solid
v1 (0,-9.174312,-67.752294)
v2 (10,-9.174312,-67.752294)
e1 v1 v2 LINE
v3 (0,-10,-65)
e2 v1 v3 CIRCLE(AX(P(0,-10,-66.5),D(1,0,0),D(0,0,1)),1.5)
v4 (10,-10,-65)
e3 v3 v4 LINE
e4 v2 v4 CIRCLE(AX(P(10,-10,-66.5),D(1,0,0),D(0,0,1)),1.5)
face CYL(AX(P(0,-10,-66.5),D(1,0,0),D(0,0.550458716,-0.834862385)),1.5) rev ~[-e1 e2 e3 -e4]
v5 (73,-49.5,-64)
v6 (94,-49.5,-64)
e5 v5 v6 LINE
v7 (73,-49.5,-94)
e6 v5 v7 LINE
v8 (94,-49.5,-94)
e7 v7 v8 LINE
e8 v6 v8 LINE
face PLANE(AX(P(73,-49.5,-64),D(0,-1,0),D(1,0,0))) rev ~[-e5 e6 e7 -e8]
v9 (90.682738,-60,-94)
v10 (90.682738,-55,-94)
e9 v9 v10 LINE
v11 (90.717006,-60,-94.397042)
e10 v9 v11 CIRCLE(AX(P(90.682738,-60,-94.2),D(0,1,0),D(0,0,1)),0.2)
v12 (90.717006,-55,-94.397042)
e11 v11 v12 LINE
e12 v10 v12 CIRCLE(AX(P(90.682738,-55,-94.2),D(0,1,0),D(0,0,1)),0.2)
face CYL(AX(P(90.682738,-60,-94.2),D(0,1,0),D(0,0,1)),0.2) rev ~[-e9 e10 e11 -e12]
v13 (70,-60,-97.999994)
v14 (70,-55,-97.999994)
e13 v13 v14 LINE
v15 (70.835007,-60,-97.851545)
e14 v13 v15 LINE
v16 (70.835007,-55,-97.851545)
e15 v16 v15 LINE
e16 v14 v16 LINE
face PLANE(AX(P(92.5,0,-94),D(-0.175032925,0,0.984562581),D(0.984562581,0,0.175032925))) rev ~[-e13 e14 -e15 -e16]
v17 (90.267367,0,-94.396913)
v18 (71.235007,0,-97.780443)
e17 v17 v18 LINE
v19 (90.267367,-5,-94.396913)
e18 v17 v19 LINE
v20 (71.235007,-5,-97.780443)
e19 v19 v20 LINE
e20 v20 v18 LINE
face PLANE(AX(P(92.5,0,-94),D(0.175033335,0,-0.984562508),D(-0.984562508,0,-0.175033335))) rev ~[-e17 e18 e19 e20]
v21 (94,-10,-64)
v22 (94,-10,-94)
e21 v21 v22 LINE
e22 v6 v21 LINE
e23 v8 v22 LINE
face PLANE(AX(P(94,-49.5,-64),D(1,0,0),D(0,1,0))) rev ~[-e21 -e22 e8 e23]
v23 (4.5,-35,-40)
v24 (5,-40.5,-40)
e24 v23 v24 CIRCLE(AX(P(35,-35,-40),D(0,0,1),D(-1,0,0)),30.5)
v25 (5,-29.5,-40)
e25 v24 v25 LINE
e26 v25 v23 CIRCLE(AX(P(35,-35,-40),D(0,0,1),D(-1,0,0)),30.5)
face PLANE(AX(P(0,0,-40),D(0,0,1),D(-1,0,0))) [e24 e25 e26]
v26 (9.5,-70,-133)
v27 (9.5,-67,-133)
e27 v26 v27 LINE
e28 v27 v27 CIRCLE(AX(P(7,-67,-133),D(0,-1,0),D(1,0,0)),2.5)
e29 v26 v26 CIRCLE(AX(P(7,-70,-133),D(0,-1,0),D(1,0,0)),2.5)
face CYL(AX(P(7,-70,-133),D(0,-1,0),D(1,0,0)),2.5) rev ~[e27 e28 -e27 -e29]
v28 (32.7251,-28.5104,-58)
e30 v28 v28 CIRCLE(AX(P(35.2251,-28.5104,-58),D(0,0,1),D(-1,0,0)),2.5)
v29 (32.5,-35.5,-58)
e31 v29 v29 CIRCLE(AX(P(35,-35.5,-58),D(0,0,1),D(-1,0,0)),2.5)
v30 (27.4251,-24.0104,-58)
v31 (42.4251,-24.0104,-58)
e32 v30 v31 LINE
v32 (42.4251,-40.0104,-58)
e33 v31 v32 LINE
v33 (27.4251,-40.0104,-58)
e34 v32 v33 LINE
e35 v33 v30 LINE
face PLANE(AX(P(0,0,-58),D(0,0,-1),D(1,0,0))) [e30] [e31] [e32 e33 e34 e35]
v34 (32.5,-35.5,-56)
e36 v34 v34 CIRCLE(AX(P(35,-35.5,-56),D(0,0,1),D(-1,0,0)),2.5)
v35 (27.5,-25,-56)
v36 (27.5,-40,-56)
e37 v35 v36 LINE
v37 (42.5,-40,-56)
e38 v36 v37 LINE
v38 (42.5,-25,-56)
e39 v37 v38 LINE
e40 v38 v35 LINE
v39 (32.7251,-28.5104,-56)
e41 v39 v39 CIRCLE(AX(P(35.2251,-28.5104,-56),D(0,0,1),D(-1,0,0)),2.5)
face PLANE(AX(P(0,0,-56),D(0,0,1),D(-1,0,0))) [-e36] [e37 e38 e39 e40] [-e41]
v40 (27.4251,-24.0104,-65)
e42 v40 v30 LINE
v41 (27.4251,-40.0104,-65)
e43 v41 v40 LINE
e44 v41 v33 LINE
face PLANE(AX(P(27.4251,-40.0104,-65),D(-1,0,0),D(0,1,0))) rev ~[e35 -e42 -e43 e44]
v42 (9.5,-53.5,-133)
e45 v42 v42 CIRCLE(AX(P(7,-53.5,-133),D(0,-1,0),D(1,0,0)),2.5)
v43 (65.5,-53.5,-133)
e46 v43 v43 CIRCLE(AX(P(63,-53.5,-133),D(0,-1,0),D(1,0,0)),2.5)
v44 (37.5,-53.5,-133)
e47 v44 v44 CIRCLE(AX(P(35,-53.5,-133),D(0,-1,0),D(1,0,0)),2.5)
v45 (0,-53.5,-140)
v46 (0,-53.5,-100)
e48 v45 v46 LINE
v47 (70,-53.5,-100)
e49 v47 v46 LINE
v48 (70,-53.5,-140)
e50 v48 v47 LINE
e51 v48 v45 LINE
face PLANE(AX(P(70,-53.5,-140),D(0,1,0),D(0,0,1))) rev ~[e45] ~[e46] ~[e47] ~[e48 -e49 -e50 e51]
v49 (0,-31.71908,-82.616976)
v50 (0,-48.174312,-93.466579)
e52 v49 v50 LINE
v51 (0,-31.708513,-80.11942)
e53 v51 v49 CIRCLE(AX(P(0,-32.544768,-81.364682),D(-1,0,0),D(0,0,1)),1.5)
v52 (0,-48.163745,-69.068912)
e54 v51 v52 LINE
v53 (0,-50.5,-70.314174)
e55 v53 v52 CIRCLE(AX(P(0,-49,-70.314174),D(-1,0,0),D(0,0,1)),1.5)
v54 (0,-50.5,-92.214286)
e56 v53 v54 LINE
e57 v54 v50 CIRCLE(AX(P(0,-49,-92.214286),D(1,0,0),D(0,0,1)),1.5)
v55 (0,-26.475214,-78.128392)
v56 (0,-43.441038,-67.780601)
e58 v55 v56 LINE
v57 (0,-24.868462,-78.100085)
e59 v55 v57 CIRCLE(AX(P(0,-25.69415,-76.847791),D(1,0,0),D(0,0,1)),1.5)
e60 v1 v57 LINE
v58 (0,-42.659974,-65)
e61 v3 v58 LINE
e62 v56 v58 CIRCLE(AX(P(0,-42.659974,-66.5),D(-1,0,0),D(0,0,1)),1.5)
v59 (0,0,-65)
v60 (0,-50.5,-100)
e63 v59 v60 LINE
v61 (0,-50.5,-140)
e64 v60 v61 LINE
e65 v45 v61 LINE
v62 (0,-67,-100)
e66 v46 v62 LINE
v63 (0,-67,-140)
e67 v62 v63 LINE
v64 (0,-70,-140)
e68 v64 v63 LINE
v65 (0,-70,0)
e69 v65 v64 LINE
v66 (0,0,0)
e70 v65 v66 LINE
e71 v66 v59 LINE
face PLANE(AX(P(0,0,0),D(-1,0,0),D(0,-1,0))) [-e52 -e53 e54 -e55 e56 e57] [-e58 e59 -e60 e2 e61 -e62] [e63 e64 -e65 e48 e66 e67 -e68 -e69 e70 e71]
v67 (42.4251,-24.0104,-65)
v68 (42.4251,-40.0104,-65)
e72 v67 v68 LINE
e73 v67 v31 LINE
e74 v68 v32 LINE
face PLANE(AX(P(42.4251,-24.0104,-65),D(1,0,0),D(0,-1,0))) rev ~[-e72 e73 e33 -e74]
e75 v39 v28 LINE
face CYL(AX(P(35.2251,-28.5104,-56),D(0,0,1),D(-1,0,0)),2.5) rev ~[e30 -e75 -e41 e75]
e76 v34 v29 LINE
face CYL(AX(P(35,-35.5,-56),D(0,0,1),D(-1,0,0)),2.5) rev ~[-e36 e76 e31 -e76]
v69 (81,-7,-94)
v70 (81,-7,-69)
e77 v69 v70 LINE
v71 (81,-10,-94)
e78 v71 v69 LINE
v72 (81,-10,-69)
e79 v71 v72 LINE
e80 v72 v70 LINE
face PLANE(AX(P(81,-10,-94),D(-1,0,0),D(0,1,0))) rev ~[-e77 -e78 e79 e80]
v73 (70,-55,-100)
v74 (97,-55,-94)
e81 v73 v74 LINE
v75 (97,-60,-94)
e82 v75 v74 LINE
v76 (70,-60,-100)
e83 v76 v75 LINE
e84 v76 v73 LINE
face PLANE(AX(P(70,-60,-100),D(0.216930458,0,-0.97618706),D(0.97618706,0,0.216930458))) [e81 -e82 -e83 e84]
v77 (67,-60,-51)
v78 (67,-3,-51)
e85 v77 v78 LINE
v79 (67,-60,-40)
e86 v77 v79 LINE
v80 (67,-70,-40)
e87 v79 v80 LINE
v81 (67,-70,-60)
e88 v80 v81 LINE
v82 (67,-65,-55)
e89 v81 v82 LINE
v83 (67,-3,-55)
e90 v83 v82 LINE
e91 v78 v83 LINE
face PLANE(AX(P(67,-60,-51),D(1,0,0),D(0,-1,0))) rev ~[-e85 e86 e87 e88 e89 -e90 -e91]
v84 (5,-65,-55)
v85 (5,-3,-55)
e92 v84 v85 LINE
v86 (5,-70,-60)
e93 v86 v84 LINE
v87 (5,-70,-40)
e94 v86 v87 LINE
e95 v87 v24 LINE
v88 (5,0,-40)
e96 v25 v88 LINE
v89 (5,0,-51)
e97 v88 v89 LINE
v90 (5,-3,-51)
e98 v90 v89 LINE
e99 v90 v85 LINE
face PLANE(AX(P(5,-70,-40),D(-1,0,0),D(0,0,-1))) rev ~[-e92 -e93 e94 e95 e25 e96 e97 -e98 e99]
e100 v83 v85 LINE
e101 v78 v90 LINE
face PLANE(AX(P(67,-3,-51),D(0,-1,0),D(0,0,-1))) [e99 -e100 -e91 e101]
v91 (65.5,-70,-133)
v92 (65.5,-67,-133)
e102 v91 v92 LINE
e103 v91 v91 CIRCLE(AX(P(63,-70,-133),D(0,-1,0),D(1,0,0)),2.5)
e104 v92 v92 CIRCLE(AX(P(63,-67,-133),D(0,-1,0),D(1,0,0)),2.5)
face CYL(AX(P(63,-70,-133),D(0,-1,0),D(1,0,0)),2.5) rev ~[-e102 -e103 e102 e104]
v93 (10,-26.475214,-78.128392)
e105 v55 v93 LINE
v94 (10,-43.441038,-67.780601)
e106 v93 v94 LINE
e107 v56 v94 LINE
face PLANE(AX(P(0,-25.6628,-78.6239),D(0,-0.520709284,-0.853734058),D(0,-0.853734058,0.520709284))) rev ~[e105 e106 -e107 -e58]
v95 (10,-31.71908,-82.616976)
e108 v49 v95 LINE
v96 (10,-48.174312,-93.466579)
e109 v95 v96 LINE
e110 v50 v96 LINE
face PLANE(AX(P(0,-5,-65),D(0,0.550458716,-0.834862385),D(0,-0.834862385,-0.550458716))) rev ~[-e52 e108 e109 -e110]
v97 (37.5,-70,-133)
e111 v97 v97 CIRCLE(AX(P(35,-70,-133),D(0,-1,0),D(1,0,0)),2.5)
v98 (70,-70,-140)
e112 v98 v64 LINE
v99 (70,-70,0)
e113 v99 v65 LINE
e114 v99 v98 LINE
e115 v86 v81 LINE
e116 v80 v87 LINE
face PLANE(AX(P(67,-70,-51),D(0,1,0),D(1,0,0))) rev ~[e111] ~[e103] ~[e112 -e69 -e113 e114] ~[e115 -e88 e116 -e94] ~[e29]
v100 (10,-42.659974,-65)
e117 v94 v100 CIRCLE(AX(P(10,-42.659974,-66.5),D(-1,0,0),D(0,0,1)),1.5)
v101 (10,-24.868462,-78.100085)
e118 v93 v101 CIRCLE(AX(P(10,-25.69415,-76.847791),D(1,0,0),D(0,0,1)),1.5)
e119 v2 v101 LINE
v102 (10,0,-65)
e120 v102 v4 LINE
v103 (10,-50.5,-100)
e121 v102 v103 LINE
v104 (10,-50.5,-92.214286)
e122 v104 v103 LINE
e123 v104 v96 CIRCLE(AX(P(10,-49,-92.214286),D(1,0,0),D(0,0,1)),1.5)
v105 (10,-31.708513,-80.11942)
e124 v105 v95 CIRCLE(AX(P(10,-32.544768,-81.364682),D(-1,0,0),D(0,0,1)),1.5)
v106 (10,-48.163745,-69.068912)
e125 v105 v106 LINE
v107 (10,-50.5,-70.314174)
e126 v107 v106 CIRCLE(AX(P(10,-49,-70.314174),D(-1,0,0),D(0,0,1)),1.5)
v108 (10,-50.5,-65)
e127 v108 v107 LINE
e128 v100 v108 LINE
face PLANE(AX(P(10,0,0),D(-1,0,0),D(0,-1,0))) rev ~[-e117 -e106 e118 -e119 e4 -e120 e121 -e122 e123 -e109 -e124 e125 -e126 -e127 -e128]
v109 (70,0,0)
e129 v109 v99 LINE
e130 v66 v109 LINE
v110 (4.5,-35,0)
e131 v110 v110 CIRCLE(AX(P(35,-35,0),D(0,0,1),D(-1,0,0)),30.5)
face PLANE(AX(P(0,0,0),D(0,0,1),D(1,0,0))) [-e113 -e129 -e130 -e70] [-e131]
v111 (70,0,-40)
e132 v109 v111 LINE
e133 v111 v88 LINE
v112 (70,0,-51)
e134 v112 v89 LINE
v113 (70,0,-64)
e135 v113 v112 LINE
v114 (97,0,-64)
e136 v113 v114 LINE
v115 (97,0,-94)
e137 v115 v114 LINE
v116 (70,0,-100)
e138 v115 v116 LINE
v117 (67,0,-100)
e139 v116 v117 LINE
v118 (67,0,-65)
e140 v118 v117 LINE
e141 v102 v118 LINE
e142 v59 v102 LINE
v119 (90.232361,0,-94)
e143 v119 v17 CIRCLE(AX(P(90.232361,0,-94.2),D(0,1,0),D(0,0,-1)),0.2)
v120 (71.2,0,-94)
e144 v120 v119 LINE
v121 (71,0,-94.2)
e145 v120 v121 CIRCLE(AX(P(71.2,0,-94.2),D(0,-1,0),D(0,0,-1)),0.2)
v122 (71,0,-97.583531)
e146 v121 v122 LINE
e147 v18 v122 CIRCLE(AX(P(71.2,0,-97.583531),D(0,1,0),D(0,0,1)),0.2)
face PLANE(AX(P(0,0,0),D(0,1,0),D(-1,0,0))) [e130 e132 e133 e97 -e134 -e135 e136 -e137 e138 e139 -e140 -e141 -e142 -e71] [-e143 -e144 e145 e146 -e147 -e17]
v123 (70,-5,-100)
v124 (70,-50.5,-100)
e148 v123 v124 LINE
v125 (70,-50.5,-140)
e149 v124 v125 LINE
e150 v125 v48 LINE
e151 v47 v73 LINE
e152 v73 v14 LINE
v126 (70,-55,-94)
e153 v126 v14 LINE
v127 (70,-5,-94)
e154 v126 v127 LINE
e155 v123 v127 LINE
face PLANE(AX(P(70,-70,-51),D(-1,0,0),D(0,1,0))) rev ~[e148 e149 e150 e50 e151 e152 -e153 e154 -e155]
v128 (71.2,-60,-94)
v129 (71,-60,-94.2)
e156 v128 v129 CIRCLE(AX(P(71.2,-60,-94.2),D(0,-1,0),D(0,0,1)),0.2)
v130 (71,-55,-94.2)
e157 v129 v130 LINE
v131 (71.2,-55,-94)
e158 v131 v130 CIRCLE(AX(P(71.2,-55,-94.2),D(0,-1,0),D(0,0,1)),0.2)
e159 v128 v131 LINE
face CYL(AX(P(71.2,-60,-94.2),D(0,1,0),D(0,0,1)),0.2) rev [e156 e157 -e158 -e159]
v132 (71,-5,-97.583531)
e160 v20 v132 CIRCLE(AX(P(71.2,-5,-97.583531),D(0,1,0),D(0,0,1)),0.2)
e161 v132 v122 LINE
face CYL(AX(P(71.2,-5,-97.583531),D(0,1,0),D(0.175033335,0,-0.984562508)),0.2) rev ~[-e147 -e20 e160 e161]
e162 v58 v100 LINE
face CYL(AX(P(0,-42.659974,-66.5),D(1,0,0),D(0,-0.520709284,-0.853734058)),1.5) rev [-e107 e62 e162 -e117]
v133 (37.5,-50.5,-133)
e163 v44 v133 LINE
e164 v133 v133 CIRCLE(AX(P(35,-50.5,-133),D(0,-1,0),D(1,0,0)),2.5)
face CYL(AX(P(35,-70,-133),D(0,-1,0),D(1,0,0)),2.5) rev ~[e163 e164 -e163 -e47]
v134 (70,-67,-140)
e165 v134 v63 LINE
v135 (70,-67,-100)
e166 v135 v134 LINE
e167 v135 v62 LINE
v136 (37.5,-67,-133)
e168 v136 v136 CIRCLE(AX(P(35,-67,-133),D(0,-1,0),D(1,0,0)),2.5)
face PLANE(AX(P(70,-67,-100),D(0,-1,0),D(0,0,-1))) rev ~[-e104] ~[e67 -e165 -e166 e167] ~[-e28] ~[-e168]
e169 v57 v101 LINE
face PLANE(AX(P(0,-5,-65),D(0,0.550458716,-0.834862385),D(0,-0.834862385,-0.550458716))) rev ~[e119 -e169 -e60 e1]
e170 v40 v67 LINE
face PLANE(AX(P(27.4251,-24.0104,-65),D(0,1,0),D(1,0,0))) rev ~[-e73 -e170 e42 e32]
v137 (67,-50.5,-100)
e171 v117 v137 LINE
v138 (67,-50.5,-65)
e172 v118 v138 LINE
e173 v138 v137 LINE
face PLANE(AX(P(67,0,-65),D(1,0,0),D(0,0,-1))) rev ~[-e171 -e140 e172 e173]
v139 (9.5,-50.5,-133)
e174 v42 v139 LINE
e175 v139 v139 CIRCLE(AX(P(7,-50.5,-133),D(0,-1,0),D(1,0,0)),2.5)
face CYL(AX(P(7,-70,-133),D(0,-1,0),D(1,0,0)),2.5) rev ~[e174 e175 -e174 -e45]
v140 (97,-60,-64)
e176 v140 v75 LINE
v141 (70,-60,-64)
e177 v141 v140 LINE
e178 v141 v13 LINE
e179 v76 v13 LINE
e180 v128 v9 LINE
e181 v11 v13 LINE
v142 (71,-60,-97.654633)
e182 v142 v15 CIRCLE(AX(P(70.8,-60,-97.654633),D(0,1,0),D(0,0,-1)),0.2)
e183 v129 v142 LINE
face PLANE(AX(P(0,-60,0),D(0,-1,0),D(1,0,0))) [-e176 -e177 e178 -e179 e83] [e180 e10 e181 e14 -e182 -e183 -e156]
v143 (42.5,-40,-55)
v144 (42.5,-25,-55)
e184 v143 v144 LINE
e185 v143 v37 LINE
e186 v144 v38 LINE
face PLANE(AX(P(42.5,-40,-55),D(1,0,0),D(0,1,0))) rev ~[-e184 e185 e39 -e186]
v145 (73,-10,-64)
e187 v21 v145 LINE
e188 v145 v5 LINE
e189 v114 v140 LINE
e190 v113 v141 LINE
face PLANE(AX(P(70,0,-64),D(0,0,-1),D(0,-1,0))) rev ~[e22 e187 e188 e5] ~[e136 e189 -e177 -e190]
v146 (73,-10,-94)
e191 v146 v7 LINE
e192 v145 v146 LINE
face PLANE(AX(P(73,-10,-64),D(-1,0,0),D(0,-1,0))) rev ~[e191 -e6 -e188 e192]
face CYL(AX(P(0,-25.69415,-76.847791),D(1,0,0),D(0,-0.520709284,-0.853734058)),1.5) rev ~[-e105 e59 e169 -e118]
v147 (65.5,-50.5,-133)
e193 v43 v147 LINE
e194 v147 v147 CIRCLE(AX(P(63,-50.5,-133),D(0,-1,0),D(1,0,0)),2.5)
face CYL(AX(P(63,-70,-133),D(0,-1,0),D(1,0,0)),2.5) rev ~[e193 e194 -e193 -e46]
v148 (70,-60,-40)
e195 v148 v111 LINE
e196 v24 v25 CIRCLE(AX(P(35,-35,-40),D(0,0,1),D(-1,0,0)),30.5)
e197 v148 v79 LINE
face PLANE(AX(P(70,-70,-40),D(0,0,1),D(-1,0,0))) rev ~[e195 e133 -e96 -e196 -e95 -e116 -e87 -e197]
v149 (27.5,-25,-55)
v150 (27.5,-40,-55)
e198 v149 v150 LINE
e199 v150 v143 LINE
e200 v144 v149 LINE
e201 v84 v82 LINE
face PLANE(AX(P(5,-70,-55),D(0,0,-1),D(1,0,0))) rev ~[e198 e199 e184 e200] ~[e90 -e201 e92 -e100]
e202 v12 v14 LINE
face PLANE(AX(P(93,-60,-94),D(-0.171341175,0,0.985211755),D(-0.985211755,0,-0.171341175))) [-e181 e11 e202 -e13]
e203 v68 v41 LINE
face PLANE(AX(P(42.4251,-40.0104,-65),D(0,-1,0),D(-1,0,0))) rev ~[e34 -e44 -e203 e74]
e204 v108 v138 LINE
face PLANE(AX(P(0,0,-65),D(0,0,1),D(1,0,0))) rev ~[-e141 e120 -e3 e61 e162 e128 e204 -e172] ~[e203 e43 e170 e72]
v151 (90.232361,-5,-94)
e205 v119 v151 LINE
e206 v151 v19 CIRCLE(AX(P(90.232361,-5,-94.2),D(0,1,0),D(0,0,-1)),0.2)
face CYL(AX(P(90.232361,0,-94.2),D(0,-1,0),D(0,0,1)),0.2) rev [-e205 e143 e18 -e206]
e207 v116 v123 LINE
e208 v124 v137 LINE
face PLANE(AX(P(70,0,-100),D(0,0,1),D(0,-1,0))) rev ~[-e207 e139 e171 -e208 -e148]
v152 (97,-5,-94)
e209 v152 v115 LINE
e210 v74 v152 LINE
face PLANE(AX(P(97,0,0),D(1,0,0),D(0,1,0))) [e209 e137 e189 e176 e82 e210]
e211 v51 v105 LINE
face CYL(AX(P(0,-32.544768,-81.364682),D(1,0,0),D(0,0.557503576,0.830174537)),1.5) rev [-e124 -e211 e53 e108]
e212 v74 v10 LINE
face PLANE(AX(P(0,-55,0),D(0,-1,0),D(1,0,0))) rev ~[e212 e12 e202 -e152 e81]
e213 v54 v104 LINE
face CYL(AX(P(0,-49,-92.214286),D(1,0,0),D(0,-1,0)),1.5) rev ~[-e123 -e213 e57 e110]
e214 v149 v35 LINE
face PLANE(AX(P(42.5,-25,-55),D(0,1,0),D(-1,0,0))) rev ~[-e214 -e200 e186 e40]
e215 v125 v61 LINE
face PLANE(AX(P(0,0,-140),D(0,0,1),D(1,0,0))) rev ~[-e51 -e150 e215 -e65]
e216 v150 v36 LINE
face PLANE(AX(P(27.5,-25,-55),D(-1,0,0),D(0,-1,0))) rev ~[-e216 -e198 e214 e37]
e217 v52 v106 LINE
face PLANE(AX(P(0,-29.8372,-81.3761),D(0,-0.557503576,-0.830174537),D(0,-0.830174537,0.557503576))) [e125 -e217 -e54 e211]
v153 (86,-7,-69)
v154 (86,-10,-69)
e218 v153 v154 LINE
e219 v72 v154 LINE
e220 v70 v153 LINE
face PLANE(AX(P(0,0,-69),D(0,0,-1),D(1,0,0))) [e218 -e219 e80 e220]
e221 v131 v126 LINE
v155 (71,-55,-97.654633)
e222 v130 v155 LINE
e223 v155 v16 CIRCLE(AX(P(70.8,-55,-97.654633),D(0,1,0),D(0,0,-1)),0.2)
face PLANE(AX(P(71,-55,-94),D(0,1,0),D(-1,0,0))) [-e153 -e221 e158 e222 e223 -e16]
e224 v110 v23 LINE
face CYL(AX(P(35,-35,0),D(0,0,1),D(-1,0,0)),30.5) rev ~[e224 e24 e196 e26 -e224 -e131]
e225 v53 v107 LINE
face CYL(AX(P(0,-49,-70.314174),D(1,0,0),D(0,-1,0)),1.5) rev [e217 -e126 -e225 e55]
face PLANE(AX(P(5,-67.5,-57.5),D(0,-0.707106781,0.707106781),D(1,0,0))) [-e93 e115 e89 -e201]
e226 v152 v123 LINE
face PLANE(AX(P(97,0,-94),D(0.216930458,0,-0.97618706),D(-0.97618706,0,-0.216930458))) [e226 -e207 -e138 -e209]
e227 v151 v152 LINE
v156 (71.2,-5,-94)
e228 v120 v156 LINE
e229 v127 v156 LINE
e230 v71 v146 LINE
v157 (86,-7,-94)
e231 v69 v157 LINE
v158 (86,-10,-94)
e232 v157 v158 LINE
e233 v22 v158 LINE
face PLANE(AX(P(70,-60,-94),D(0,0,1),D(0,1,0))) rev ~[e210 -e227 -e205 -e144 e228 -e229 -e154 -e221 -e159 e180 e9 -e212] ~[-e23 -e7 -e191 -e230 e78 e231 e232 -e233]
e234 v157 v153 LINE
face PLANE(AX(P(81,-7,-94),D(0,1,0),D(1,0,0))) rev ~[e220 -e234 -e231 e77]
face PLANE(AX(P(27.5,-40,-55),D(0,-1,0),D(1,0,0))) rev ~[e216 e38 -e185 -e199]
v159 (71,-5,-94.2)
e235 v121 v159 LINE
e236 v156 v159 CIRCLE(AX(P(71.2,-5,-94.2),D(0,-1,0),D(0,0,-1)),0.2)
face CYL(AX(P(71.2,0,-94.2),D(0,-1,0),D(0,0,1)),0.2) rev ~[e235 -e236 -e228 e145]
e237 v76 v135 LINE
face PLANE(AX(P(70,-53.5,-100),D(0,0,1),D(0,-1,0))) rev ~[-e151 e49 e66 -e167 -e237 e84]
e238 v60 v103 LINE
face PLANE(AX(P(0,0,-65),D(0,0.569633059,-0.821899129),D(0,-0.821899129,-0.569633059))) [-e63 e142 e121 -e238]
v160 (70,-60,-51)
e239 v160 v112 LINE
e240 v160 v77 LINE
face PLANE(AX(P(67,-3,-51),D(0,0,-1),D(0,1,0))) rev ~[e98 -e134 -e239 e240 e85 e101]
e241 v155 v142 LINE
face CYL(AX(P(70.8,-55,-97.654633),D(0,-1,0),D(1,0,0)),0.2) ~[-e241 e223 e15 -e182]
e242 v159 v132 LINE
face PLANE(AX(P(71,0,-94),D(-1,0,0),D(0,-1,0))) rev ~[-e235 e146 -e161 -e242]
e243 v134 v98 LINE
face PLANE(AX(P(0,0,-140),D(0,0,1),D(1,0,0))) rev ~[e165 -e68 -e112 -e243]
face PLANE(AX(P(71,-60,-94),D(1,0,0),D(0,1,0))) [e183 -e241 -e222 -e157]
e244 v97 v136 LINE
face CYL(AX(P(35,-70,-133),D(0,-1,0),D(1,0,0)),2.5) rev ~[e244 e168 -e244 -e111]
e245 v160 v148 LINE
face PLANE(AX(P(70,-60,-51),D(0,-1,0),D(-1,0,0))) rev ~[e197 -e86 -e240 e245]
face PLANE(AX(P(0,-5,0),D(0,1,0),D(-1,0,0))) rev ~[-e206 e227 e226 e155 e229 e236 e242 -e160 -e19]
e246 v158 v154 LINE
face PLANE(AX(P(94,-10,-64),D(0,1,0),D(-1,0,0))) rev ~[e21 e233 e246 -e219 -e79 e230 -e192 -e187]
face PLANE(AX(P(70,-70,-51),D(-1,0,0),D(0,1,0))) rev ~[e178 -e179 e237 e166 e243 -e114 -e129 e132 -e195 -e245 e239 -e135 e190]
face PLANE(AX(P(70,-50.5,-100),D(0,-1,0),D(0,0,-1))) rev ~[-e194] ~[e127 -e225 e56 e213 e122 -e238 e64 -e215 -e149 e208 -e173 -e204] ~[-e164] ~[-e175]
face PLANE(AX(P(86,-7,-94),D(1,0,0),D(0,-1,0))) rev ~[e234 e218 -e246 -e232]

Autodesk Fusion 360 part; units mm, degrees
sketch "Sketch1" plane through (0, 0, 0) normal (0, 0, 1) x (1, 0, 0)
  line L0 (0, 0) -> (70, 0)
  line L1 (70, 0) -> (70, -70)
  line L2 (70, -70) -> (0, -70)
  line L3 (0, -70) -> (0, 0)
  dimension "d3" = 70
  dimension "d4" = 70
extrude "Extrude1" add sketch "Sketch1" against normal blind 140
sketch "Sketch2" plane through (0, 0, 0) normal (0, 0, 1) x (-1, 0, 0)
  line L0 (0, 70) -> (-70, 70)
  line L1 (-70, 70) -> (-70, 0)
  line L2 (-70, 0) -> (0, 0)
  line L3 (0, 0) -> (0, 70)
  line L4 (0, 0) -> (-35, 0) construction
  line L5 (-35, 0) -> (-35, 35) construction
  circle A0 centre (-35, 35) radius 30.5
  dimension "d7" = 35
  dimension "d8" = 35
  dimension "d9" = 61
extrude "Extrude2" cut sketch "Sketch2" against normal blind 40 contours A0
sketch "Sketch3" plane through (0, -70, 0) normal (0, -1, 0) x (1, 0, 0)
  line L0 (70, 0) -> (0, 0)
  line L1 (0, 0) -> (0, -140)
  line L2 (0, -140) -> (70, -140)
  line L3 (70, -140) -> (70, 0)
  line L4 (0, 0) -> (0, -40) construction
  line L5 (0, -40) -> (5, -40) construction
  line L6 (5, -40) -> (5, -55) construction
  line L7 (5, -55) -> (70, -55)
  line L8 (70, -55) -> (70, -40)
  line L9 (70, -40) -> (5, -40)
  line L10 (5, -40) -> (5, -55)
  dimension "d12" = 40
  dimension "d13" = 5
  dimension "d14" = 15
extrude "Extrude3" cut sketch "Sketch3" against normal blind 120 contours L3 L7 L8 L9 L10
sketch "Sketch4" plane through (70, 0, 0) normal (1, 0, 0) x (0, 1, 0)
  line L0 (0, -55) -> (-70, -55)
  line L1 (-70, -55) -> (-70, -140)
  line L2 (-70, -140) -> (0, -140)
  line L3 (0, -140) -> (0, -55)
  line L4 (-70, -140) -> (-67, -140) construction
  line L5 (-67, -140) -> (-53.5, -140)
  line L6 (-53.5, -140) -> (-53.5, -100)
  line L7 (-53.5, -100) -> (-67, -100)
  line L8 (-67, -100) -> (-67, -140)
  line L9 (-53.5, -140) -> (-50.5, -140) construction
  line L10 (-50.5, -140) -> (0, -140)
  line L11 (0, -140) -> (0, -100)
  line L12 (0, -100) -> (-50.5, -100)
  line L13 (-50.5, -100) -> (-50.5, -140)
  dimension "d19" = 3
  dimension "d20" = 13.5
  dimension "d21" = 40
  dimension "d24" = 3
extrude "Extrude4" cut sketch "Sketch4" against normal blind 170 contours L2 L3 L10 L11 L12 L13 | L2 L5 L6 L7 L8
sketch "Sketch5" plane through (0, 0, 0) normal (0, 1, 0) x (-1, 0, 0)
  line L0 (-70, -100) -> (0, -100)
  line L1 (0, -100) -> (0, 0)
  line L2 (0, 0) -> (-70, 0)
  line L3 (-70, -40) -> (-5, -40)
  line L4 (-5, -40) -> (-5, -55)
  line L5 (-5, -55) -> (-70, -55)
  line L6 (-70, 0) -> (-70, -40)
  line L7 (-70, -100) -> (-67, -100)
  line L8 (-67, -100) -> (0, -100)
  line L9 (0, -100) -> (0, -65)
  line L10 (0, -65) -> (-67, -65)
  line L11 (-67, -65) -> (-67, -100)
  line L12 (-70, -55) -> (-70, -100)
  dimension "d25" = 3
  dimension "d26" = 67
  dimension "d27" = 35
extrude "Extrude5" cut sketch "Sketch5" against normal blind 50.5 contours L0 L1 L8 L9 L10 L11
sketch "Sketch6" plane through (0, 0, 0) normal (-1, 0, 0) x (0, -1, 0)
  line L0 (50.5, -65) -> (50.5, -140)
  line L1 (50.5, -140) -> (53.5, -140)
  line L2 (53.5, -140) -> (53.5, -100)
  line L3 (53.5, -100) -> (67, -100)
  line L4 (67, -100) -> (67, -140)
  line L5 (67, -140) -> (70, -140)
  line L6 (70, -140) -> (70, 0)
  line L7 (70, 0) -> (0, 0)
  line L8 (0, 0) -> (0, -65)
  line L9 (0, -65) -> (50.5, -65)
  line L10 (0, -65) -> (50.5, -100)
  line L11 (50.5, -100) -> (50.5, -95)
  line L12 (0, -65) -> (5, -65)
  line L13 (5, -65) -> (50.5, -95)
extrude "Extrude6" add sketch "Sketch6" against normal blind 10 contours L0 L9 L10 L11 L12 L13
sketch "Sketch8" plane through (0, 0, 0) normal (-1, 0, 0) x (0, -1, 0)
  line L0 (50.5, -100) -> (50.5, -140)
  line L1 (50.5, -140) -> (53.5, -140)
  line L2 (53.5, -140) -> (53.5, -100)
  line L3 (53.5, -100) -> (67, -100)
  line L4 (67, -100) -> (67, -140)
  line L5 (67, -140) -> (70, -140)
  line L6 (70, -140) -> (70, 0)
  line L7 (70, 0) -> (0, 0)
  line L8 (0, 0) -> (0, -65)
  line L9 (0, -65) -> (50.5, -100)
  line L10 (50.5, -95) -> (5, -65)
  line L11 (5, -65) -> (50.5, -65)
  line L12 (50.5, -65) -> (50.5, -95)
  line L13 (27.75, -80) -> (29.8372, -81.3761)
  line L14 (50.5, -65) -> (50.5, -67.5)
  line L15 (29.8372, -81.3761) -> (50.5, -67.5)
  line L16 (27.75, -80) -> (25.6628, -78.6239)
  line L17 (50.5, -65) -> (48, -65)
  line L18 (25.6628, -78.6239) -> (48, -65)
  dimension "d35" = 2.5
  dimension "d36" = 2.5
  dimension "d37" = 2.5
  dimension "d38" = 2.5
extrude "Extrude7" add sketch "Sketch8" against normal blind 10 contours L10 L11 L12 L13 L14 L15 L16 L17 L18
fillet "Fillet2" radius 1.5 6 edges at (5, -25.6628, -78.6239) (5, -50.5, -95) (5, -50.5, -67.5) (5, -29.8372, -81.3761) (5, -5, -65) (5, -48, -65)
sketch "Sketch10" plane through (0, -70, 0) normal (0, -1, 0) x (1, 0, 0)
  line L0 (70, 0) -> (0, 0)
  line L1 (0, 0) -> (0, -140)
  line L2 (0, -140) -> (70, -140)
  line L3 (70, -40) -> (70, 0)
  line L4 (70, -55) -> (5, -55)
  line L5 (5, -55) -> (5, -40)
  line L6 (5, -40) -> (70, -40)
  line L7 (0, -140) -> (0, -133) construction
  line L8 (0, -133) -> (7, -133) construction
  line L9 (70, -40) -> (70, -33) construction
  line L10 (70, -33) -> (63, -33) construction
  circle A0 centre (7, -133) radius 2.5
  circle A1 centre (35, -133) radius 2.5
  circle A2 centre (63, -133) radius 2.5
  line L11 (70, -140) -> (70, -55)
  dimension "d43" = 7
  dimension "d44" = 7
  dimension "d45" = 7
  dimension "d46" = 7
  dimension "d47" = 5
  dimension "d50" = 56
  dimension "d51" = 0
extrude "Extrude8" cut sketch "Sketch10" against normal blind 30 contours A0 | A1 | A2
chamfer "Chamfer1" distance 5 angle 45 1 edges at (37.5, -70, -55)
sketch "Sketch11" plane through (0, 0, -55) normal (0, 0, 1) x (-1, 0, 0)
  line L0 (-5, 65) -> (-70, 65)
  line L1 (-70, 65) -> (-70, 0)
  line L2 (-70, 0) -> (-5, 0)
  line L3 (-5, 0) -> (-5, 65)
  line L4 (-70, 70) -> (-67, 70)
  line L5 (-67, 70) -> (-67, 0)
  line L6 (-67, 0) -> (-70, 0)
  line L7 (-70, 0) -> (-70, 70)
  dimension "d55" = 3
  dimension "d56" = 70
extrude "Extrude9" add sketch "Sketch11" along normal blind 4 contours L0 L1 L2 L5 L6 L7 | L0 L4 L5 L7
extrude "Extrude10" add 1 faces at (69, -68.3333, -55) along direction (0, 0, -1) up to surface end surface through (5, -67.5, -57.5) normal (0, -0.707107, 0.707107) offset 0
sketch "Sketch12" plane through (67, 0, 0) normal (-1, 0, 0) x (0, -1, 0)
  line L0 (70, -60) -> (70, -51)
  line L1 (70, -51) -> (0, -51)
  line L2 (0, -51) -> (0, -55)
  line L3 (0, -55) -> (65, -55)
  line L4 (65, -55) -> (70, -60)
  line L5 (0, -51) -> (3, -51)
  line L6 (3, -51) -> (3, -55)
  line L7 (3, -55) -> (0, -55)
  line L8 (0, -55) -> (0, -51)
  dimension "d61" = 3
  dimension "d62" = 4
extrude "Extrude11" add sketch "Sketch12" along normal up to surface (62 mm away) contours L1 L2 L3 L5 L6 L7 L8
sketch "Sketch13" plane through (0, 0, -51) normal (0, 0, 1) x (-1, 0, 0)
  line L0 (-70, 0) -> (-5, 0)
  line L1 (-5, 0) -> (-5, 3)
  line L2 (-5, 3) -> (-67, 3)
  line L3 (-67, 3) -> (-67, 70)
  line L4 (-67, 70) -> (-70, 70)
  line L5 (-70, 70) -> (-70, 0)
  line L6 (-67, 70) -> (-70, 70)
  line L7 (-70, 70) -> (-70, 60)
  line L8 (-70, 60) -> (-67, 60)
  line L9 (-67, 60) -> (-67, 70)
  dimension "d65" = 3
  dimension "d66" = 10
extrude "Extrude12" add sketch "Sketch13" along normal up to surface (11 mm away) contours L3 L4 L5 L6 L7 L8 L9
sketch "Sketch14" plane through (70, 0, 0) normal (1, 0, 0) x (0, 1, 0)
  line L0 (-70, 0) -> (-70, -140)
  line L1 (-70, -140) -> (-67, -140)
  line L2 (-67, -140) -> (-67, -100)
  line L3 (-67, -100) -> (-53.5, -100)
  line L4 (-53.5, -100) -> (-53.5, -140)
  line L5 (-53.5, -140) -> (-50.5, -140)
  line L6 (-50.5, -140) -> (-50.5, -100)
  line L7 (-50.5, -100) -> (0, -100)
  line L8 (0, -100) -> (0, -51)
  line L9 (0, -51) -> (-60, -51)
  line L10 (-60, -51) -> (-60, -40)
  line L11 (-60, -40) -> (0, -40)
  line L12 (0, -40) -> (0, 0)
  line L13 (0, 0) -> (-70, 0)
  line L14 (0, -51) -> (0, -64) construction
  line L15 (0, -64) -> (-60, -64)
  line L16 (-60, -64) -> (-60, -94)
  line L17 (-60, -94) -> (0, -94)
  line L18 (0, -94) -> (0, -64)
  dimension "d69" = 13
  dimension "d70" = 60
  dimension "d71" = 30
extrude "Extrude13" add sketch "Sketch14" along normal blind 27 contours L8 L15 L16 L17 L18
sketch "Sketch15" plane through (0, 0, -64) normal (0, 0, 1) x (-1, 0, 0)
  line L0 (-70, 0) -> (-70, 60)
  line L1 (-70, 60) -> (-97, 60)
  line L2 (-97, 60) -> (-97, 0)
  line L3 (-97, 0) -> (-70, 0)
  line L4 (-97, 0) -> (-97, 10) construction
  line L5 (-97, 60) -> (-97, 49.5) construction
  line L6 (-70, 60) -> (-70, 49.5) construction
  line L7 (-70, 0) -> (-70, 10) construction
  line L8 (-70, 49.5) -> (-73, 49.5) construction
  line L9 (-97, 10) -> (-94, 10) construction
  line L10 (-73, 49.5) -> (-94, 49.5)
  line L11 (-94, 49.5) -> (-94, 10)
  line L12 (-94, 10) -> (-73, 10)
  line L13 (-73, 10) -> (-73, 49.5)
  dimension "d74" = 10
  dimension "d75" = 10.5
  dimension "d76" = 10.5
  dimension "d77" = 10
  dimension "d78" = 3
  dimension "d79" = 3
extrude "Extrude14" cut sketch "Sketch15" against normal blind 36 contours L10 L11 L12 L13
sketch "Sketch16" plane through (0, 0, 0) normal (0, 1, 0) x (-1, 0, 0)
  line L0 (-67, -65) -> (-10, -65)
  line L1 (-10, -65) -> (0, -65)
  line L2 (0, -65) -> (0, 0)
  line L3 (0, 0) -> (-70, 0)
  line L4 (-70, 0) -> (-70, -40)
  line L5 (-70, -40) -> (-5, -40)
  line L6 (-5, -40) -> (-5, -51)
  line L7 (-5, -51) -> (-70, -51)
  line L8 (-70, -51) -> (-70, -64)
  line L9 (-70, -64) -> (-97, -64)
  line L10 (-97, -64) -> (-97, -94)
  line L11 (-97, -94) -> (-70, -94)
  line L12 (-70, -94) -> (-70, -100)
  line L13 (-70, -100) -> (-67, -100)
  line L14 (-67, -100) -> (-67, -65)
  line L15 (-97, -94) -> (-70, -100)
  line L16 (-70, -100) -> (-70, -98)
  line L17 (-97, -94) -> (-95, -94)
  line L18 (-95, -94) -> (-92.5, -94)
  line L19 (-92.5, -94) -> (-70, -98)
  line L20 (-95.8, -95.2) -> (-95.7872, -95.1423)
  dimension "d82" = 2
  dimension "d83" = 2
extrude "Extrude15" add sketch "Sketch16" against normal blind 5 contours L11 L12 L15 L16 L17 L18 L19
sketch "Sketch17" plane through (0, -60, 0) normal (0, -1, 0) x (1, 0, 0)
  line L0 (70, -64) -> (70, -94)
  line L1 (70, -94) -> (97, -94)
  line L2 (97, -94) -> (97, -64)
  line L3 (97, -64) -> (70, -64)
  line L4 (70, -94) -> (70, -100) construction
  line L5 (70, -100) -> (70, -98)
  line L6 (97, -94) -> (93, -94)
  line L7 (70, -100) -> (97, -94)
  line L8 (93, -94) -> (70, -98)
  dimension "d86" = 2
  dimension "d87" = 4
extrude "Extrude16" add sketch "Sketch17" against normal blind 5 contours L1 L5 L6 L7 L8
sketch "Sketch18" plane through (0, 0, -94) normal (0, 0, -1) x (1, 0, 0)
  line L0 (73, 49.5) -> (94, 49.5)
  line L1 (94, 49.5) -> (94, 10)
  line L2 (94, 10) -> (73, 10)
  line L3 (73, 10) -> (73, 49.5)
  line L4 (97, 55) -> (93, 55)
  line L5 (93, 55) -> (93, 60)
  line L6 (93, 60) -> (70, 60)
  line L7 (70, 60) -> (70, 0)
  line L8 (70, 0) -> (92.5, 0)
  line L9 (92.5, 0) -> (92.5, 5)
  line L10 (92.5, 5) -> (97, 5)
  line L11 (97, 5) -> (97, 55)
  line L12 (73, 10) -> (94, 10) construction
  line L13 (83.5, 10) -> (86, 10)
  line L14 (86, 10) -> (81, 10)
  line L15 (81, 10) -> (81, 7)
  line L16 (81, 7) -> (86, 7)
  line L17 (86, 7) -> (86, 10)
  dimension "d90" = 2.5
  dimension "d91" = 3
extrude "Extrude17" cut sketch "Sketch18" against normal blind 25 contours L2 L13 L14 L15 L16 L17
sketch "Sketch19" plane through (0, 0, -94) normal (0, 0, -1) x (1, 0, 0)
  line L0 (97, 55) -> (93, 55)
  line L1 (93, 55) -> (93, 60)
  line L2 (93, 60) -> (70, 60)
  line L3 (70, 60) -> (70, 0)
  line L4 (70, 0) -> (92.5, 0)
  line L5 (92.5, 0) -> (92.5, 5)
  line L6 (92.5, 5) -> (97, 5)
  line L7 (97, 5) -> (97, 55)
  line L8 (86, 10) -> (86, 7)
  line L9 (86, 7) -> (81, 7)
  line L10 (81, 7) -> (81, 10)
  line L11 (81, 10) -> (73, 10)
  line L12 (73, 10) -> (73, 49.5)
  line L13 (73, 49.5) -> (94, 49.5)
  line L14 (94, 49.5) -> (94, 10)
  line L15 (94, 10) -> (86, 10)
  line L16 (70, 60) -> (71, 60)
  line L17 (71, 60) -> (71, 55)
  line L18 (71, 55) -> (70, 55)
  line L19 (70, 55) -> (70, 60)
  line L20 (70, 0) -> (71, 0)
  line L21 (71, 0) -> (71, 5)
  line L22 (71, 5) -> (70, 5)
  line L23 (70, 5) -> (70, 0)
  dimension "d94" = 1
  dimension "d95" = 5
  dimension "d96" = 1
  dimension "d97" = 5
extrude "Extrude18" add sketch "Sketch19" along normal up to surface contours L2 L3 L16 L17 L18 L19 | L3 L4 L20 L21 L22 L23 end surface through (92.5, 0, -94) normal (-0.175033, 0, 0.984563) offset 0
fillet "Fillet3" radius 0.2 6 edges at (71, -2.5, -94) (71, -2.5, -97.8222) (92.5, -2.5, -94) (71, -57.5, -94) (71, -57.5, -97.8222) (93, -57.5, -94)
sketch "Sketch20" plane through (0, 0, -55) normal (0, 0, 1) x (-1, 0, 0)
  line L0 (-67, 3) -> (-5, 3)
  line L1 (-5, 3) -> (-5, 65)
  line L2 (-5, 65) -> (-67, 65)
  line L3 (-67, 65) -> (-67, 3)
  line L4 (-70, 0) -> (-35, 0) construction
  line L5 (-35, 0) -> (-35, 35) construction
  line L6 (-35, 35) -> (-35, 40) construction
  line L7 (-35, 35) -> (-35, 30) construction
  line L8 (-35, 40) -> (-27.5, 40) construction
  line L9 (-27.5, 40) -> (-42.5, 40)
  line L10 (-42.5, 40) -> (-42.5, 25)
  line L11 (-42.5, 25) -> (-27.5, 25)
  line L12 (-27.5, 25) -> (-27.5, 40)
  dimension "d102" = 35
  dimension "d103" = 35
  dimension "d104" = 5
  dimension "d105" = 5
  dimension "d107" = 7.5
  dimension "d108" = 15
  dimension "d109" = 15
extrude "Extrude19" cut sketch "Sketch20" against normal blind 1 contours L9 L10 L11 L12
sketch "Sketch21" plane through (0, 0, -56) normal (0, 0, 1) x (-1, 0, 0)
  line L0 (-27.5, 25) -> (-27.5, 40)
  line L1 (-27.5, 40) -> (-42.5, 40)
  line L2 (-42.5, 40) -> (-42.5, 25)
  line L3 (-42.5, 25) -> (-27.5, 25)
  line L4 (-42.5, 40) -> (-35, 40) construction
  line L5 (-35, 40) -> (-35, 38) construction
  circle A0 centre (-35, 35.5) radius 2.5
  line L6 (-34.9971, 33) -> (-34.9971, 31) construction
  circle A1 centre (-35.2251, 28.5104) radius 2.5
  dimension "d112" = 2
  dimension "d113" = 5
  dimension "d114" = 2
  dimension "d115" = 5
extrude "Extrude20" cut sketch "Sketch21" against normal blind 14 contours A0 | A1
sketch "Sketch22" plane through (0, 0, -65) normal (0, 0, -1) x (1, 0, 0)
  circle A0 centre (35, 35.5) radius 2.5
  circle A1 centre (35.2251, 28.5104) radius 2.5
  line L0 (10, 42.66) -> (0, 42.66)
  line L1 (0, 42.66) -> (0, 10)
  line L2 (0, 10) -> (10, 10)
  line L3 (10, 10) -> (10, 0)
  line L4 (10, 0) -> (67, 0)
  line L5 (67, 0) -> (67, 50.5)
  line L6 (67, 50.5) -> (10, 50.5)
  line L7 (10, 50.5) -> (10, 42.66)
  line L8 (35.2251, 26.0104) -> (35.2251, 24.0104) construction
  line L9 (34.9884, 38) -> (34.9884, 40) construction
  line L10 (35.2251, 24.0104) -> (27.4251, 24.0104) construction
  line L11 (27.4251, 24.0104) -> (42.4251, 24.0104)
  line L12 (42.4251, 24.0104) -> (42.4251, 40.0104)
  line L13 (42.4251, 40.0104) -> (27.4251, 40.0104)
  line L14 (27.4251, 40.0104) -> (27.4251, 24.0104)
  dimension "d118" = 2
  dimension "d119" = 2
  dimension "d120" = 7.8
  dimension "d121" = 15
  dimension "d122" = 16
extrude "Extrude21" cut sketch "Sketch22" against normal blind 7 contours L11 L12 L13 L14
